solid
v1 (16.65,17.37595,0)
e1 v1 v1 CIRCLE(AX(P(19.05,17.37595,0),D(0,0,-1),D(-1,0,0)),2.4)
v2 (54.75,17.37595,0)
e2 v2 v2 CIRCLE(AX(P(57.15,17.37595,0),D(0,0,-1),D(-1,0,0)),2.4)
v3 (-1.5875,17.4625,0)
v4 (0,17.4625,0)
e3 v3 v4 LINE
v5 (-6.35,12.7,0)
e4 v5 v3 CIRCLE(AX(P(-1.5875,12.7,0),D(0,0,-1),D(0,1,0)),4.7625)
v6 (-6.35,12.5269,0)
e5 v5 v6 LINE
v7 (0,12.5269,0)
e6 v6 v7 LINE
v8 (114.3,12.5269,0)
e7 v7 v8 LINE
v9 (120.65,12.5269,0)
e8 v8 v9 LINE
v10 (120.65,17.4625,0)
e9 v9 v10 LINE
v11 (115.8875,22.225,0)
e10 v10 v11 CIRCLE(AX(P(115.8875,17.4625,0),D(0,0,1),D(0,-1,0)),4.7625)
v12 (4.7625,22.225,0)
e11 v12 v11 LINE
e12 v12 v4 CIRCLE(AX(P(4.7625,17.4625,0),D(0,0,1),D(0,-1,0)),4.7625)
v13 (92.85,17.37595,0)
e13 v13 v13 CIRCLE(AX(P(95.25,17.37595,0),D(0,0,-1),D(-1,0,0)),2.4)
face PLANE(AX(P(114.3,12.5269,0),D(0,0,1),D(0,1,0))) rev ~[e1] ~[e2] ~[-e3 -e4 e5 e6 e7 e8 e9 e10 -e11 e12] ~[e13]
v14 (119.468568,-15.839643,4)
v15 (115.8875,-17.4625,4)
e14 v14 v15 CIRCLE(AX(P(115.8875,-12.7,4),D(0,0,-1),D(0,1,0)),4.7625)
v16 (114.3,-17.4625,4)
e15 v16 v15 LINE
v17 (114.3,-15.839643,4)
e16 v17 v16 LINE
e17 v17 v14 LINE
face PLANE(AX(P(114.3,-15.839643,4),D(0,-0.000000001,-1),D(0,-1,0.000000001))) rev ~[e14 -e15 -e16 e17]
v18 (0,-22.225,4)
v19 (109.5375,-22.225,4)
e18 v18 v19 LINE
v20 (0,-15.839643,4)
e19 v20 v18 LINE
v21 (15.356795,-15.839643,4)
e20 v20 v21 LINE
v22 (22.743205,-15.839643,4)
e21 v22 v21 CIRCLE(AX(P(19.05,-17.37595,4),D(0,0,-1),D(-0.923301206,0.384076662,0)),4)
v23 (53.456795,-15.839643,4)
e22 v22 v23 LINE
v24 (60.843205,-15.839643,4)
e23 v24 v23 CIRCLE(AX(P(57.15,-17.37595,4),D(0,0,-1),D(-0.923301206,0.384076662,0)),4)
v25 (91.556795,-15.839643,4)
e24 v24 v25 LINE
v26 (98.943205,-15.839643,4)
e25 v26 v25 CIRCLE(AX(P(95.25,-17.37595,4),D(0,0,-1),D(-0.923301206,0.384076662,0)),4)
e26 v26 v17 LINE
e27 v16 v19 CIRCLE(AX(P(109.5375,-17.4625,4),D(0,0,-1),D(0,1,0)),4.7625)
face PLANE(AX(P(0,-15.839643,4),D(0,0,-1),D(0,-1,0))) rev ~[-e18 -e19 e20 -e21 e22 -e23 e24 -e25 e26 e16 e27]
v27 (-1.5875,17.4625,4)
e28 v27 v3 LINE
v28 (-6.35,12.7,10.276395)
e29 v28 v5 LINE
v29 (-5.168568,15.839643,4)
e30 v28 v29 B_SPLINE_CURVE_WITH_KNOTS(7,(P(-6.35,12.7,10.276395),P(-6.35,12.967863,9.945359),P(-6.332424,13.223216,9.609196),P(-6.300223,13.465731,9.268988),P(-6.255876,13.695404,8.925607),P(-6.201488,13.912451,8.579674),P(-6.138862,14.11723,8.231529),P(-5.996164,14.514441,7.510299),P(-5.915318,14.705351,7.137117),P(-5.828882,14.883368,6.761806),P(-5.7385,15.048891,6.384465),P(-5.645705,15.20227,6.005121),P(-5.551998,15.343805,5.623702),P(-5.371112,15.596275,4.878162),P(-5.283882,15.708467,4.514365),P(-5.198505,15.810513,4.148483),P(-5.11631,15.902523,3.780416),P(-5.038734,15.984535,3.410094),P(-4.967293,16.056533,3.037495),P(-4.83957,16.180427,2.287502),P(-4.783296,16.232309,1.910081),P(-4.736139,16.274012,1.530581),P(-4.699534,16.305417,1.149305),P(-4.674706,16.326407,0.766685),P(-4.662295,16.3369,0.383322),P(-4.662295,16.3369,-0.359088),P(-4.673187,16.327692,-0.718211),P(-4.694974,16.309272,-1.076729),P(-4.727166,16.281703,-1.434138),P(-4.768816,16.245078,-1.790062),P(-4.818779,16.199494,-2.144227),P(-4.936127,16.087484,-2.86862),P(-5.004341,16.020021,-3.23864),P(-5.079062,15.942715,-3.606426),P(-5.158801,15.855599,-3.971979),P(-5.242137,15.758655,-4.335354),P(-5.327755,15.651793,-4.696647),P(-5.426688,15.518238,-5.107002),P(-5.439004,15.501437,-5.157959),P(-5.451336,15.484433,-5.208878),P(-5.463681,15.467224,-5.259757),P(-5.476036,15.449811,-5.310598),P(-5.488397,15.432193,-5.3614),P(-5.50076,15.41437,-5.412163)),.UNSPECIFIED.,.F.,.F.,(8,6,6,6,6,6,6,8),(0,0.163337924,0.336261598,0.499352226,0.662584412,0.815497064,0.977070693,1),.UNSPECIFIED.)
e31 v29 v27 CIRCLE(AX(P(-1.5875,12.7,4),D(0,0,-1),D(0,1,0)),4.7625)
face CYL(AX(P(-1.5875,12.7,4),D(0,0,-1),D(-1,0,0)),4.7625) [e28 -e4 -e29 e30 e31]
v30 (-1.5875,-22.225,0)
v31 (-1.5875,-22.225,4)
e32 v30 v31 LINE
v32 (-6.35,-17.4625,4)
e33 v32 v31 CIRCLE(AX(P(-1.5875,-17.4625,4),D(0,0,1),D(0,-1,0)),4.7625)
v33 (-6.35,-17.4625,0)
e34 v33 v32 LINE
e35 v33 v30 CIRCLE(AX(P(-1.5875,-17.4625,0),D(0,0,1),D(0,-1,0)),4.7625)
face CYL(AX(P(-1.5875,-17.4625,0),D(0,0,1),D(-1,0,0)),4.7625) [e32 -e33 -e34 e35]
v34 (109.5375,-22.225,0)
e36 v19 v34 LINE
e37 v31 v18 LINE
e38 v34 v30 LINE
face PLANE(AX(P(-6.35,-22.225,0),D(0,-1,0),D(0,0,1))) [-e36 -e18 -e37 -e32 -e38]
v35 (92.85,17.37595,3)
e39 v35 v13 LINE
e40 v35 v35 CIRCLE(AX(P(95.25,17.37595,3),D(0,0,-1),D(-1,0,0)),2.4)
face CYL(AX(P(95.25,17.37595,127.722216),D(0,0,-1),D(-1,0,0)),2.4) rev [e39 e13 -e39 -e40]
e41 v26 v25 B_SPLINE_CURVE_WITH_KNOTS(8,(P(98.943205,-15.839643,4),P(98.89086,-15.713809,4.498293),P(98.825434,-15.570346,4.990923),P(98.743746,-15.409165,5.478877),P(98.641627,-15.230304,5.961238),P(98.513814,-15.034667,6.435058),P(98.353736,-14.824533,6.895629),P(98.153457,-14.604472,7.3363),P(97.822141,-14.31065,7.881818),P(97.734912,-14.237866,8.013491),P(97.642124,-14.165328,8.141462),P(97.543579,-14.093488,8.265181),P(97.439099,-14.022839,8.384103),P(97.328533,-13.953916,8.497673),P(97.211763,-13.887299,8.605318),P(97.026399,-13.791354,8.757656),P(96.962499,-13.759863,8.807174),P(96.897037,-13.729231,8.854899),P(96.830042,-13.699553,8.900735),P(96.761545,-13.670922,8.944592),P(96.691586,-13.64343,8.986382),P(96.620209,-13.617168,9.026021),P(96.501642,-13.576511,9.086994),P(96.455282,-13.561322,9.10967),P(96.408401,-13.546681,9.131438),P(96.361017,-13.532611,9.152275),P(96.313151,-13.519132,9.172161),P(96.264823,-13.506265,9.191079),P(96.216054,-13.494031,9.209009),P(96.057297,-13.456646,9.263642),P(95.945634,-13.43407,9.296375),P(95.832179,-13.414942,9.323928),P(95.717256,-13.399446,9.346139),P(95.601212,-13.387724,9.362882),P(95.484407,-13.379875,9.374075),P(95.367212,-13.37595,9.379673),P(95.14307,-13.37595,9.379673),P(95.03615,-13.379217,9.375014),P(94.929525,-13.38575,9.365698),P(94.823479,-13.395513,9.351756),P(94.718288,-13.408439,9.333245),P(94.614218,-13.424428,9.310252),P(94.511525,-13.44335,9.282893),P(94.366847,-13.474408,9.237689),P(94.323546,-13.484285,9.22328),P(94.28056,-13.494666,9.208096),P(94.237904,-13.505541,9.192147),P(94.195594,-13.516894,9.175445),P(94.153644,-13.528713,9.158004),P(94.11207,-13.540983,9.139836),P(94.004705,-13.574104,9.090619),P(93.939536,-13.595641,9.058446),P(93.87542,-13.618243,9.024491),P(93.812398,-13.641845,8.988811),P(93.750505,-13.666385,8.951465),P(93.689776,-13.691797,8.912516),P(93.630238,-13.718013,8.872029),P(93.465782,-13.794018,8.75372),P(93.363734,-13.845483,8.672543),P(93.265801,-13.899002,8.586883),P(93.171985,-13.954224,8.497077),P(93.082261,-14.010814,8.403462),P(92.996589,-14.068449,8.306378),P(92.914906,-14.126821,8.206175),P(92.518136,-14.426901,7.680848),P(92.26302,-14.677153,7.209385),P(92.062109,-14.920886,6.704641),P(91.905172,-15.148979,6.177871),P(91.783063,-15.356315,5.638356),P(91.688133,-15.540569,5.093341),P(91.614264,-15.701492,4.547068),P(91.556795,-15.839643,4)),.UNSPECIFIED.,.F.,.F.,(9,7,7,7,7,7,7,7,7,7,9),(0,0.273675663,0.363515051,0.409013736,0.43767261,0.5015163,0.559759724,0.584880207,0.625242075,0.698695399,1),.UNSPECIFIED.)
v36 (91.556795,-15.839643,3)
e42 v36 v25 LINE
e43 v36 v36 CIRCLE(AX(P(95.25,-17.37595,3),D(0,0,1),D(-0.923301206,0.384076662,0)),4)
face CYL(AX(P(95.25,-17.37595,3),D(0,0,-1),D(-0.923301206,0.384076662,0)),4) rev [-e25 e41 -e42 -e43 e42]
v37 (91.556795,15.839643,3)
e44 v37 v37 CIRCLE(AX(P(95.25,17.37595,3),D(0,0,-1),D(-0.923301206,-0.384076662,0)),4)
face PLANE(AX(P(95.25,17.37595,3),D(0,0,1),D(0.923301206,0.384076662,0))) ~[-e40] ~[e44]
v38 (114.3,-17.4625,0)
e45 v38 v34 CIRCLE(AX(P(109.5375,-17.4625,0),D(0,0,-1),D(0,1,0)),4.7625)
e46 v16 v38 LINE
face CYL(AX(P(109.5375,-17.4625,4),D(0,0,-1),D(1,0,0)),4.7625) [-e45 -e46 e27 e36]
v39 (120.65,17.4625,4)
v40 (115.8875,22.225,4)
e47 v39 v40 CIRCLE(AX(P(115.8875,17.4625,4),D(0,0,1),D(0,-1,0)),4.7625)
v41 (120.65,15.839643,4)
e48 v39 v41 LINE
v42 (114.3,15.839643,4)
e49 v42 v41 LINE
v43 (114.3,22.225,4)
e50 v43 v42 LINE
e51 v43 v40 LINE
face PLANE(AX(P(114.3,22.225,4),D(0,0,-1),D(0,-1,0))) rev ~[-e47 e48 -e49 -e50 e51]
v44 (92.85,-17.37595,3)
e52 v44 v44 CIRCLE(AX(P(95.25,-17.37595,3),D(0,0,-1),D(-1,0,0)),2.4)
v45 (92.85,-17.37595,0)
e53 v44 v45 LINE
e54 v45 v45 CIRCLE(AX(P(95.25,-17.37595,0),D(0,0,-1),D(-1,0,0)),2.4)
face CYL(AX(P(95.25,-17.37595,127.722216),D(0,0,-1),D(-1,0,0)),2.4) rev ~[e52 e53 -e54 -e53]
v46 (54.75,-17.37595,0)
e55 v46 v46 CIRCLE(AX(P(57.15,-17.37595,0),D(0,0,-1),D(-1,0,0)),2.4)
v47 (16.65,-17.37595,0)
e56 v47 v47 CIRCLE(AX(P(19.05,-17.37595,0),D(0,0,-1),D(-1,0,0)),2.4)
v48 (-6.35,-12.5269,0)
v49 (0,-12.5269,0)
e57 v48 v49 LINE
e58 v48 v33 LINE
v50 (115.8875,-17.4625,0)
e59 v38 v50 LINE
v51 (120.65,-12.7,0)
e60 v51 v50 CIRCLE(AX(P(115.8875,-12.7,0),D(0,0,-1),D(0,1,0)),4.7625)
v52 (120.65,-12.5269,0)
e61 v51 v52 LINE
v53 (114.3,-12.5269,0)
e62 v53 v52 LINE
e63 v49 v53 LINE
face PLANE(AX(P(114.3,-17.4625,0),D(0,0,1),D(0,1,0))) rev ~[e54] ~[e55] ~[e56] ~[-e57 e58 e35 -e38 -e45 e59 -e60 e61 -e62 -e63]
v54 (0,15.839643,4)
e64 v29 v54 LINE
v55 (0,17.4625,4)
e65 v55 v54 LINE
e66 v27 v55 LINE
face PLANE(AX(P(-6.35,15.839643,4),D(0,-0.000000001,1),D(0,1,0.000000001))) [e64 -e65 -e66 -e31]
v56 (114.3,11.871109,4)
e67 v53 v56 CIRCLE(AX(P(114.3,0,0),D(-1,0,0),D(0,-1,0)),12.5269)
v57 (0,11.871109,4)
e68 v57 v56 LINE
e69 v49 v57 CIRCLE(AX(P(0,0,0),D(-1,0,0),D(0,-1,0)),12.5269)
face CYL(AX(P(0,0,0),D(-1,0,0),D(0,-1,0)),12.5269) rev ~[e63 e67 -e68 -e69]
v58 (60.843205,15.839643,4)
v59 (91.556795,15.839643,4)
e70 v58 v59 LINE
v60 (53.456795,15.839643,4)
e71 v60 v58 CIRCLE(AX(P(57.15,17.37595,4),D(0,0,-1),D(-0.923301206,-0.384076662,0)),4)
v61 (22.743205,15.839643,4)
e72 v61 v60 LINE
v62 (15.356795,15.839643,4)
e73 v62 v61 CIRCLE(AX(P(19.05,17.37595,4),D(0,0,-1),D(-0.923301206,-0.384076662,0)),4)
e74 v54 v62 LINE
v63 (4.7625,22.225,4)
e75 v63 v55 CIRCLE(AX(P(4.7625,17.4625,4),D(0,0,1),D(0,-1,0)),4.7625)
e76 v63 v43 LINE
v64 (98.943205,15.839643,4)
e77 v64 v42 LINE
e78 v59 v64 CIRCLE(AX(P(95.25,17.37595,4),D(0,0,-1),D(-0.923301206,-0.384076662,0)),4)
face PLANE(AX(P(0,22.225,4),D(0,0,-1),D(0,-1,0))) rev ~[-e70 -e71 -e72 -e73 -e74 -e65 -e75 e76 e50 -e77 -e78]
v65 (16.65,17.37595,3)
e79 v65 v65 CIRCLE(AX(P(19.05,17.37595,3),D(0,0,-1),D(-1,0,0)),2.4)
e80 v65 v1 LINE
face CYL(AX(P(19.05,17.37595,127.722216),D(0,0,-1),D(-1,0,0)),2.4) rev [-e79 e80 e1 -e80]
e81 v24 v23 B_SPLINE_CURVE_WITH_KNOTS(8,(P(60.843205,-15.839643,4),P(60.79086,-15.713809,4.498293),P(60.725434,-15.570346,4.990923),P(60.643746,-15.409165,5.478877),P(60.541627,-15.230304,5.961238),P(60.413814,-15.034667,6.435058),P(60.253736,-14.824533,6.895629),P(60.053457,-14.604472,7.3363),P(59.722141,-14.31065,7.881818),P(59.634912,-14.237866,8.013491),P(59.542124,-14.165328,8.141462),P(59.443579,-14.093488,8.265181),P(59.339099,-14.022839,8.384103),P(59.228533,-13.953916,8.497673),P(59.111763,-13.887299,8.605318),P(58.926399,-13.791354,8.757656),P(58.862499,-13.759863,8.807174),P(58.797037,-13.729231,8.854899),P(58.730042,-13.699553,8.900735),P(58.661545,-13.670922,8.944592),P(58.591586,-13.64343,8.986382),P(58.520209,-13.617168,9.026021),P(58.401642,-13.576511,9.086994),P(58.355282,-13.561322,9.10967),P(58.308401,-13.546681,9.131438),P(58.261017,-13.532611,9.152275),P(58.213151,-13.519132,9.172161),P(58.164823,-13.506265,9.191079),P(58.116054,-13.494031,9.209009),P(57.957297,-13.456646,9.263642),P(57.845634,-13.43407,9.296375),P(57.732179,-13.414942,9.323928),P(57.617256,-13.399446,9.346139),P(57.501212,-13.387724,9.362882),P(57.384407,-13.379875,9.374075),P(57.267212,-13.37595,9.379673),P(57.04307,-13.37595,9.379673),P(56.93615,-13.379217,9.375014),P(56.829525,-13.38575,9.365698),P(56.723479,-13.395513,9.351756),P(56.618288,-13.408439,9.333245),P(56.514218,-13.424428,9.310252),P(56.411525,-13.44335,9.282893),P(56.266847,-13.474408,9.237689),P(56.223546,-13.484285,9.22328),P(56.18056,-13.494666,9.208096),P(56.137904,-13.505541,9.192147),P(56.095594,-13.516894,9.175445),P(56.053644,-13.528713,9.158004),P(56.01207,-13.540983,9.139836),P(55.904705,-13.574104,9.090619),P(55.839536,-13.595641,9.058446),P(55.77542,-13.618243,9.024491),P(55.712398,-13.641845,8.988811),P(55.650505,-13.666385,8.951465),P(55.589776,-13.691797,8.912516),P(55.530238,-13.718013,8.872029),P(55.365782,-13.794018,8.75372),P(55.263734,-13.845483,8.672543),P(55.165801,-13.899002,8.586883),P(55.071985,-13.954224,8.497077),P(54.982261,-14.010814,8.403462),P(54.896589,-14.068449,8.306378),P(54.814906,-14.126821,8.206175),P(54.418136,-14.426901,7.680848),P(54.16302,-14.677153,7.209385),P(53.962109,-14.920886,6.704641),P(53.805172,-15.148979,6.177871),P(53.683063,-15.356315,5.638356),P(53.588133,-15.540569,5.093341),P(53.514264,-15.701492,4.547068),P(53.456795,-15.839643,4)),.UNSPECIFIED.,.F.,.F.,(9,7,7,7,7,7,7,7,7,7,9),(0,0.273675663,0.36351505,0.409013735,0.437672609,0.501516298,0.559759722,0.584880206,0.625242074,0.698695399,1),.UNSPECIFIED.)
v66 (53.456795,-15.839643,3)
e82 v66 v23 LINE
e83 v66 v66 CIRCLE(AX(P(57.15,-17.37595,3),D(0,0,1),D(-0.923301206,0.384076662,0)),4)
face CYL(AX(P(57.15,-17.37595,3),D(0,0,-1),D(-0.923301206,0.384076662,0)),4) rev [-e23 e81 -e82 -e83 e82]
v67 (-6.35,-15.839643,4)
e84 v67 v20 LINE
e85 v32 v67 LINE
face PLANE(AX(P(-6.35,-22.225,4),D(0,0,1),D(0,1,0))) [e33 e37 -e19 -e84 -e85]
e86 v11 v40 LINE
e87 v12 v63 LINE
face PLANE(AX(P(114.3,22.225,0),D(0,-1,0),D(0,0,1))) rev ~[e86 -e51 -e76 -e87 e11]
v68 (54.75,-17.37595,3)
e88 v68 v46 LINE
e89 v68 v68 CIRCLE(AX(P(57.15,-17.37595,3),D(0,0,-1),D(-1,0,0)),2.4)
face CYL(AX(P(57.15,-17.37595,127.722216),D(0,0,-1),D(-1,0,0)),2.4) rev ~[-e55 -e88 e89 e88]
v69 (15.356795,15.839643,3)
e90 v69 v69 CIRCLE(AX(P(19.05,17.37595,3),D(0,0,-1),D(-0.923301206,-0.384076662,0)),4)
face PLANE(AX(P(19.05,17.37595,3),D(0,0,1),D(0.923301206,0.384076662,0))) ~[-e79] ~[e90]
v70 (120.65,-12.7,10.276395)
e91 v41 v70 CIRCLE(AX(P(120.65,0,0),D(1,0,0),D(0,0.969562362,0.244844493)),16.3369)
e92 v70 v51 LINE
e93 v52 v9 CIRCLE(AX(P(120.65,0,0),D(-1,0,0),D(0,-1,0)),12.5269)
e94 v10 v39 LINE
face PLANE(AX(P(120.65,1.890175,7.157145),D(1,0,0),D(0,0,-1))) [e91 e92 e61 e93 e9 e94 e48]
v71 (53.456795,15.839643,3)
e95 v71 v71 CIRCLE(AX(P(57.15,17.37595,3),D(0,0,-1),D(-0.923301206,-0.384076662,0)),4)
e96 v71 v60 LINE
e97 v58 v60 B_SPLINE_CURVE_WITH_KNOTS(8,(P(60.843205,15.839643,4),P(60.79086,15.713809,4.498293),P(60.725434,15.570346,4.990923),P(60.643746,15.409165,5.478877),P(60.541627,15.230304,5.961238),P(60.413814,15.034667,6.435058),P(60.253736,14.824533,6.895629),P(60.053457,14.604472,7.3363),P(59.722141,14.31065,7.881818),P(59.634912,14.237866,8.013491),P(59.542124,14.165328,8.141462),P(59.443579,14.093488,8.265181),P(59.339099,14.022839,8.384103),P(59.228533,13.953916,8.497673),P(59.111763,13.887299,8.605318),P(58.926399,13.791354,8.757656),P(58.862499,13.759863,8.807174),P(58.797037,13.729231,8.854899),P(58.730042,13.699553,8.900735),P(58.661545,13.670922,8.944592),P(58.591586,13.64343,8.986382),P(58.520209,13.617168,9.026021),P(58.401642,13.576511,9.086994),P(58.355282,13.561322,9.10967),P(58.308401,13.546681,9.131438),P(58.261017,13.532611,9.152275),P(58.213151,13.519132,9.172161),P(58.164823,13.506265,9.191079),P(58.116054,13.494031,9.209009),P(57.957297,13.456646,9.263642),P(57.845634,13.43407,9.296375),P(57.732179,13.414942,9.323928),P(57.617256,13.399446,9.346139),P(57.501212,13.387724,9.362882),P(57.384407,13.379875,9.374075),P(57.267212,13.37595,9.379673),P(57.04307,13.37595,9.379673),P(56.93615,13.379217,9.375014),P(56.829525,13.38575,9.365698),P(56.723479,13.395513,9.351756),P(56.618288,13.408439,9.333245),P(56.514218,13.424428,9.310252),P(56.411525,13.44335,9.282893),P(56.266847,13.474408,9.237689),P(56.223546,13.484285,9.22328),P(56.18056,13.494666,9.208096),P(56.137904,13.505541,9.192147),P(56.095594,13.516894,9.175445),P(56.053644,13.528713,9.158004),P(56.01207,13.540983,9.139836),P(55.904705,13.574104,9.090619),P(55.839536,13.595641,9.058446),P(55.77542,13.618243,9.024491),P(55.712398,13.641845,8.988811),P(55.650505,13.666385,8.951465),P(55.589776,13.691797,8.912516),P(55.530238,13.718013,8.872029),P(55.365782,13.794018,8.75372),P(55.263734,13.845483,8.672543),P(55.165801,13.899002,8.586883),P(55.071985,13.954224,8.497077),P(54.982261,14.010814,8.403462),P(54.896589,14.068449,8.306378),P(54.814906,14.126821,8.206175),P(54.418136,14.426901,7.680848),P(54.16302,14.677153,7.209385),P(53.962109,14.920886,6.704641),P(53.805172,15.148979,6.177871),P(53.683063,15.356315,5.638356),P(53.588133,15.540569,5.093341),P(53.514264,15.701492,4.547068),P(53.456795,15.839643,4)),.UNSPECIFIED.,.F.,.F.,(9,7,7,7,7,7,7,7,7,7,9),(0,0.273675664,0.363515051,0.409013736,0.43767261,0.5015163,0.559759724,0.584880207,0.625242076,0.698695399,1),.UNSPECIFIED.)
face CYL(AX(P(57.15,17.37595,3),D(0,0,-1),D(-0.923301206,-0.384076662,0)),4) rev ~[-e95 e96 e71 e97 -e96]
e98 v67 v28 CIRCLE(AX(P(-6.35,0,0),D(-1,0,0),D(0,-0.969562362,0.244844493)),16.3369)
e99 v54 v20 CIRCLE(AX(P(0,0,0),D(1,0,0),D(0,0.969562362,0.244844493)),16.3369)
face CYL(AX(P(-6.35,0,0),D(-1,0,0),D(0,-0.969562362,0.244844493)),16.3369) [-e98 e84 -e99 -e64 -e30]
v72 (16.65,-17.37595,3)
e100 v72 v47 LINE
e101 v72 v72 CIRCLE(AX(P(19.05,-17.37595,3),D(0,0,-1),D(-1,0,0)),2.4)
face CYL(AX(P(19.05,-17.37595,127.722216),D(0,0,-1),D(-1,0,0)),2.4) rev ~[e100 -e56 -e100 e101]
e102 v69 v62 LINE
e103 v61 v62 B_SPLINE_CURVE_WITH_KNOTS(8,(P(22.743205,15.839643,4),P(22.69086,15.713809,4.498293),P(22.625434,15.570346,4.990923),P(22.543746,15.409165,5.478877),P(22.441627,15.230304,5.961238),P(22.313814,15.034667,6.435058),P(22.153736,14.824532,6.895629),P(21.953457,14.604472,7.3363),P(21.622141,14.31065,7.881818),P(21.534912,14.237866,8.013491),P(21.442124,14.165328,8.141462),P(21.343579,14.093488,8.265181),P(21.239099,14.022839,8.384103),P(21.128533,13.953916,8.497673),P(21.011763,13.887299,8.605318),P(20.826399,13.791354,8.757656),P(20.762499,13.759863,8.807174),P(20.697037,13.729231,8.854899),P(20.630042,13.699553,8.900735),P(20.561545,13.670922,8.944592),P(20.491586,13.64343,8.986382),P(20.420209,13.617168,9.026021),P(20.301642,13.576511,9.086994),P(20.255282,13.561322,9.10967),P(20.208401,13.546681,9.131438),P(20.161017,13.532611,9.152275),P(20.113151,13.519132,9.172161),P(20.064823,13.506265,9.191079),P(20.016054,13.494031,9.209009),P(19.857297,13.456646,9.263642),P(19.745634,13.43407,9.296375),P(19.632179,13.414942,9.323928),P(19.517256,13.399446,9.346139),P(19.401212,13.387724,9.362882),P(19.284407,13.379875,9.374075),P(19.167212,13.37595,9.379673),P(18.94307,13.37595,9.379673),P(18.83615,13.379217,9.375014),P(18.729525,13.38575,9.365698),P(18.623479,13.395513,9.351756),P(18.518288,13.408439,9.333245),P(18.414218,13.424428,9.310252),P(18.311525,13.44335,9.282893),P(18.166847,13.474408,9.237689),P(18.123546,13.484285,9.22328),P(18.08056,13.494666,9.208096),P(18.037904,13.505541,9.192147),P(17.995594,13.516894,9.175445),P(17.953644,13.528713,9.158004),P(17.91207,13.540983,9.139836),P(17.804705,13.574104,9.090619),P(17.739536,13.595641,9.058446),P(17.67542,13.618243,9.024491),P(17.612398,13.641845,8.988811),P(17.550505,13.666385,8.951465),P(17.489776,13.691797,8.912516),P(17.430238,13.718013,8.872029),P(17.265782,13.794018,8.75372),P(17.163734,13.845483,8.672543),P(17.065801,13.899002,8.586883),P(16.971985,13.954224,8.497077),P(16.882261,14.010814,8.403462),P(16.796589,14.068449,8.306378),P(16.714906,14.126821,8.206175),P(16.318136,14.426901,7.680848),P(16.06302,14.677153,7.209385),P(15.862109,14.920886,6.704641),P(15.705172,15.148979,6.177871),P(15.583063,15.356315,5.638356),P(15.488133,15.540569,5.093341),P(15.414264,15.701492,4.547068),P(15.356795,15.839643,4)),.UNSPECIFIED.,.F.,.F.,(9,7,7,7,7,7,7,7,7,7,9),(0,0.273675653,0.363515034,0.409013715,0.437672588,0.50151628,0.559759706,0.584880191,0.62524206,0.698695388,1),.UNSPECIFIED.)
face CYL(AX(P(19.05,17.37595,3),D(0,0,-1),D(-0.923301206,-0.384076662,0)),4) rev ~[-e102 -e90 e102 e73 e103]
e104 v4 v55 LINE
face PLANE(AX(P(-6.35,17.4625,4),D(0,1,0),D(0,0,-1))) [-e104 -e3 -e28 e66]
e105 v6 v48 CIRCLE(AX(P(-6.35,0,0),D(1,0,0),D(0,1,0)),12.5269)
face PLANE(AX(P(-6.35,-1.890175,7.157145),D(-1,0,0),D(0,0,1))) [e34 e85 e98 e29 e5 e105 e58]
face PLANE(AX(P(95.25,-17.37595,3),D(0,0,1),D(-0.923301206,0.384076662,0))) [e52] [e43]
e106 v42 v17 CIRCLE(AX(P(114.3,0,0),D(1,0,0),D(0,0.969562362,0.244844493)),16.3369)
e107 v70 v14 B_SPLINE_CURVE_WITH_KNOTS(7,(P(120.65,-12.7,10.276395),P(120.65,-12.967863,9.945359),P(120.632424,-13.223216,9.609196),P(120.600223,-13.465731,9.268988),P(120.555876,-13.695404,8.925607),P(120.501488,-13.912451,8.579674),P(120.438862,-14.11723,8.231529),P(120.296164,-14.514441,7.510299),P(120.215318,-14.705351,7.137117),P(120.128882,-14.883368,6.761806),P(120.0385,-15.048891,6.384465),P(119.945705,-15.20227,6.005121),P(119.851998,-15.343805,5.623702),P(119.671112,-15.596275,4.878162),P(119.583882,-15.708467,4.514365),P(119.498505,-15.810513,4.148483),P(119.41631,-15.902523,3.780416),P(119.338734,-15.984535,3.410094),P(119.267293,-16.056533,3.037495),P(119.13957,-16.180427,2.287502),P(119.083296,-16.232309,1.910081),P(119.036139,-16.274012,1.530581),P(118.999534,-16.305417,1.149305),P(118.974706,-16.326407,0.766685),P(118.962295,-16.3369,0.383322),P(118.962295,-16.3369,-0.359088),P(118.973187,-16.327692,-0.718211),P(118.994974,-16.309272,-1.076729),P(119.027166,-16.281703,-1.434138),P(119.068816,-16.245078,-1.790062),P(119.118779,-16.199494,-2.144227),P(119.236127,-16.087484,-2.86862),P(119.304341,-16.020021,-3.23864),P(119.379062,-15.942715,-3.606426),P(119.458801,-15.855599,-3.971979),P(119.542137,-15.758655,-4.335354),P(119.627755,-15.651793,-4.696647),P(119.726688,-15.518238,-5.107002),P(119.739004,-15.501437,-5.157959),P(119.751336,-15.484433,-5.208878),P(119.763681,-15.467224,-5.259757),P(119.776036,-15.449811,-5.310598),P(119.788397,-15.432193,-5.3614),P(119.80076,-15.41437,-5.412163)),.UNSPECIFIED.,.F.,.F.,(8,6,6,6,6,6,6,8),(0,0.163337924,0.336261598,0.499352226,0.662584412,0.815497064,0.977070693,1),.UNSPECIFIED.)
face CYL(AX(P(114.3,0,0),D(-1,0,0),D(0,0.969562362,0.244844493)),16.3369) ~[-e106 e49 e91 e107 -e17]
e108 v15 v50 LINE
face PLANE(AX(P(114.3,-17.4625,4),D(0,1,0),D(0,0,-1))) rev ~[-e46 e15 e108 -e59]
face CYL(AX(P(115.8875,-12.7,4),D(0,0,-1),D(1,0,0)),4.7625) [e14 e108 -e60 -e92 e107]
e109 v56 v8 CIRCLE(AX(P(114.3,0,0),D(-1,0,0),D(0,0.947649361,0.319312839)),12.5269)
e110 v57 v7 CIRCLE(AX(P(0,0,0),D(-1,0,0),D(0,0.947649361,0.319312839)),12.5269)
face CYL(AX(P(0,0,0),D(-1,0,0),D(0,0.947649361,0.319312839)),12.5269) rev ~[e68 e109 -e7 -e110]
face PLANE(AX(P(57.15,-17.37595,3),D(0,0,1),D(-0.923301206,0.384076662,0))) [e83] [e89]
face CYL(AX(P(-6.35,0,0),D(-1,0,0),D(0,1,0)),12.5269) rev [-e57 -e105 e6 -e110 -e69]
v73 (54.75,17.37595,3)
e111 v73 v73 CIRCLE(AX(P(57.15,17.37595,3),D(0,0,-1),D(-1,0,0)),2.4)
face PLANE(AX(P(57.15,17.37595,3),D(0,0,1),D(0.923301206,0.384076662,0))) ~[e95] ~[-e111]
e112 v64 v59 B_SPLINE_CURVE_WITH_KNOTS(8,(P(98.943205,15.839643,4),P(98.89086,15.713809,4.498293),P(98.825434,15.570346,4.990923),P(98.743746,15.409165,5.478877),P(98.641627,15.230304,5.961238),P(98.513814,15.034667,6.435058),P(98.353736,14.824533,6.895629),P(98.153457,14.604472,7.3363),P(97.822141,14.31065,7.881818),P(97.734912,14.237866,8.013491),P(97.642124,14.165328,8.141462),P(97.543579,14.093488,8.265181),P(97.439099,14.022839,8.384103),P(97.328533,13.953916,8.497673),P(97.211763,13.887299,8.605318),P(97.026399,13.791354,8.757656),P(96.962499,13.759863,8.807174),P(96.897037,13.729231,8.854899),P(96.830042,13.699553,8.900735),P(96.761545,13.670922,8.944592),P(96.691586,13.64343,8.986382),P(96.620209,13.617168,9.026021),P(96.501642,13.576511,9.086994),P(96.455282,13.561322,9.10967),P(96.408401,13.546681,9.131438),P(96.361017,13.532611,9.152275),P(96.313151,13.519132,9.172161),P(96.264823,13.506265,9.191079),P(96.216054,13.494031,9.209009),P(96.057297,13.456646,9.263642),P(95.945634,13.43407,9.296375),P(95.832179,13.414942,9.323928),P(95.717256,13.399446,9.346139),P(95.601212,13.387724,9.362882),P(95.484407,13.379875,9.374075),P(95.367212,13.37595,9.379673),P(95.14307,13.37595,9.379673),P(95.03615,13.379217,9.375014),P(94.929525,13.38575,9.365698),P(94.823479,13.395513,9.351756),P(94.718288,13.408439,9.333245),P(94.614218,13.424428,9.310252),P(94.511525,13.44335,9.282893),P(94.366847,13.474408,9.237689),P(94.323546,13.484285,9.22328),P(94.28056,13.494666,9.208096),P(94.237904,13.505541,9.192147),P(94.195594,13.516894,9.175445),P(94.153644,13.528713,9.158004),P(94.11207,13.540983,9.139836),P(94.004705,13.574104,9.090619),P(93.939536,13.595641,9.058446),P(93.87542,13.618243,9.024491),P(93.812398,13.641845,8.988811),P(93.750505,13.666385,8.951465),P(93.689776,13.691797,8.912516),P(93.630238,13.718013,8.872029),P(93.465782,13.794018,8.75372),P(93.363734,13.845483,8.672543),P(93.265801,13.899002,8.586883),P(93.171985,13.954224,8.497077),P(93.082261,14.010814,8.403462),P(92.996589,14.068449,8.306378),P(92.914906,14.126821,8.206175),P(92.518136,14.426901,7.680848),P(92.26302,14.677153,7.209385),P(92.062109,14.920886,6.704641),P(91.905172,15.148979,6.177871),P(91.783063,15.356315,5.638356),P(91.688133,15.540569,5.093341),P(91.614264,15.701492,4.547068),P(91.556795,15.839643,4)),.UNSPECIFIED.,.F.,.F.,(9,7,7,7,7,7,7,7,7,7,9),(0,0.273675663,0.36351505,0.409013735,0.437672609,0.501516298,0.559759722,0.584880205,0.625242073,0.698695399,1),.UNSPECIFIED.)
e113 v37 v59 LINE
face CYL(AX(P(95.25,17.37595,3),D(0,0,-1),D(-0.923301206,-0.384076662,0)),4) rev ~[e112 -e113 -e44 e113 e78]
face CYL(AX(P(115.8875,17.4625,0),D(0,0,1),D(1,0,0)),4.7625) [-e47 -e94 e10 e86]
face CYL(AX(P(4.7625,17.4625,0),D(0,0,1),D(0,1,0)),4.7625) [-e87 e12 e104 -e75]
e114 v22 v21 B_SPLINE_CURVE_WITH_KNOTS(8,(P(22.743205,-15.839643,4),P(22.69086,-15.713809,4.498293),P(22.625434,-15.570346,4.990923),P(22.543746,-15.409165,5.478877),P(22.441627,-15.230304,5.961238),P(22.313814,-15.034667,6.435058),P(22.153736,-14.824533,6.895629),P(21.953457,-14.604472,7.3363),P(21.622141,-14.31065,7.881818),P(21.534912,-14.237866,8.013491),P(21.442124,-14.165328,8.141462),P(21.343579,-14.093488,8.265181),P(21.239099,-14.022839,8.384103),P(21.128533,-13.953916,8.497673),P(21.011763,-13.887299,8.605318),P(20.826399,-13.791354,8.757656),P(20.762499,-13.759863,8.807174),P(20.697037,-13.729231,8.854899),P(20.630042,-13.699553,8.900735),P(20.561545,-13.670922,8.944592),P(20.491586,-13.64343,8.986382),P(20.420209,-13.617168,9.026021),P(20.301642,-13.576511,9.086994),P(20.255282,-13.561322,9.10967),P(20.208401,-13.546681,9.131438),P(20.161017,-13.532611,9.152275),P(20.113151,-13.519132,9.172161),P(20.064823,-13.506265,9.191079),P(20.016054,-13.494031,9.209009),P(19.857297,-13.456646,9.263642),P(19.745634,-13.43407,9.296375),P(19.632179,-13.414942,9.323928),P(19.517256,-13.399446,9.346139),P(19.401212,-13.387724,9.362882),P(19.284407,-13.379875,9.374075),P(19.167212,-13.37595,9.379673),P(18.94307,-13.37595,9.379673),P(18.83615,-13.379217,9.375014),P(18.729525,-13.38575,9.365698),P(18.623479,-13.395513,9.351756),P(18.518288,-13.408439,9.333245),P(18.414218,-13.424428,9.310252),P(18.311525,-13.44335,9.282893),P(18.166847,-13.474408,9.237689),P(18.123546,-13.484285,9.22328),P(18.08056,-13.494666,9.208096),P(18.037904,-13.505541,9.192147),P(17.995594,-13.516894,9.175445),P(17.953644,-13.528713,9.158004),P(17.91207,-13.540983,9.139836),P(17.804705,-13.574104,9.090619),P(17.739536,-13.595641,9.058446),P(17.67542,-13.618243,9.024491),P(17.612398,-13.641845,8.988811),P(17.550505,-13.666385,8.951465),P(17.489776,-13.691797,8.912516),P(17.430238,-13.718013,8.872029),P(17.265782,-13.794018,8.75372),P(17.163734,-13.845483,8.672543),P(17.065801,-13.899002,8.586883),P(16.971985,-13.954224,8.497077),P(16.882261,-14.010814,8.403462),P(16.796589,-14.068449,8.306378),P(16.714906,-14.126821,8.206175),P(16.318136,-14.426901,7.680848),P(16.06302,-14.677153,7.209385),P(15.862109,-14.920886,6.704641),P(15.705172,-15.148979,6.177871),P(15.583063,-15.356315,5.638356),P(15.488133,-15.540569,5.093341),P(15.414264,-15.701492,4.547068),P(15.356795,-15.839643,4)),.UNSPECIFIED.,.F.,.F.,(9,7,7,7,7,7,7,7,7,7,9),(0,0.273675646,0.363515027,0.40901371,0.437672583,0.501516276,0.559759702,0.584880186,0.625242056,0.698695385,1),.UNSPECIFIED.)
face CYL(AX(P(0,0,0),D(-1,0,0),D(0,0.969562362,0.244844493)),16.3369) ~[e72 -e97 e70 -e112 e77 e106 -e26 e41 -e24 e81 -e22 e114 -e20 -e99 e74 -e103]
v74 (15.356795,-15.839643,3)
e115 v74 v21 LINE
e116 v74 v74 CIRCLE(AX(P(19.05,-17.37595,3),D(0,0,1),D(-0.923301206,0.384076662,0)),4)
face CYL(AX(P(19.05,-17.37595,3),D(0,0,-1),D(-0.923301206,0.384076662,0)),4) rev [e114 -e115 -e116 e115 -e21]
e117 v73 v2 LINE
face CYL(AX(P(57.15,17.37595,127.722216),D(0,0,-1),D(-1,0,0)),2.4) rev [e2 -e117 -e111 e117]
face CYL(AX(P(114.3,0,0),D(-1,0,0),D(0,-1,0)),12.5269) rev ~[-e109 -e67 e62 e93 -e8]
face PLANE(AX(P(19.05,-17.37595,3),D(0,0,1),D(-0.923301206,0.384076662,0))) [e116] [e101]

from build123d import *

# Parameters (mm, degrees)
BOSS_EXTRUDE1_DEPTH  = 114.3
CUT_EXTRUDE1_START   = -1
SKETCH2_R            = 4
CUT_EXTRUDE1_DEPTH   = 7.35
M4_CLEARANCE_HOLE1_D = 4.8
FILLET1_R            = 4.7625
BOSS_EXTRUDE2_START  = 6.35
BOSS_EXTRUDE2_DEPTH  = 6.35
BOSS_EXTRUDE3_DEPTH  = 6.35
FILLET2_R            = 4.7625


with BuildPart() as part:
    # Sketch1 → Boss-Extrude1 (new body)
    with BuildSketch(Plane(origin=(0, 0, 0), x_dir=(0, 0, -1), z_dir=(1, 0, 0))):
        with BuildLine():
            Line((0, 22.225), (-4, 22.225))
            Line((-4, 22.225), (-4, 15.839643355))
            ThreePointArc((-3.999999999, 15.839643349), (-2.01539476, 16.212109221), (0, 16.336899995))
            Line((0, 16.336899995), (0, 17.4625))
            Line((0, 17.4625), (0, 22.225))
        make_face()
        with BuildLine():
            ThreePointArc((0, 16.336899995), (-2.01539476, 16.212109221), (-3.999999999, 15.839643349))
            ThreePointArc((-3.999999999, 15.839643349), (-16.336899991, 0), (-3.999999999, -15.839643349))
            ThreePointArc((-3.999999999, -15.839643349), (-2.01539476, -16.212109221), (0, -16.336899995))
            Line((0, -16.336899995), (0, -12.5269))
            ThreePointArc((0, -12.5269), (-12.361865073, -2.026700652), (-4, 11.871108778))
            ThreePointArc((-4, 11.871108778), (-2.026700652, 12.361865073), (0, 12.5269))
            Line((0, 12.5269), (0, 16.336899995))
        make_face()
        with BuildLine():
            ThreePointArc((0, -16.336899995), (-2.01539476, -16.212109221), (-3.999999999, -15.839643349))
            Line((-4, -15.839643355), (-4, -22.225))
            Line((-4, -22.225), (0, -22.225))
            Line((0, -22.225), (0, -17.4625))
            Line((0, -17.4625), (0, -16.336899995))
        make_face()
    extrude(amount=BOSS_EXTRUDE1_DEPTH)

    # Sketch2 → Cut-Extrude1 (cut)
    with BuildSketch(Plane.XY.offset(4).offset(CUT_EXTRUDE1_START)):
        with Locations(Location((19.05, -17.37595, 0), (0, 0, 157.413569734))):
            Circle(SKETCH2_R)
        with Locations(Location((57.15, -17.37595, 0), (0, 0, 157.413569734))):
            Circle(SKETCH2_R)
        with Locations(Location((95.25, -17.37595, 0), (0, 0, 157.413569734))):
            Circle(SKETCH2_R)
    cut_extrude1 = extrude(amount=CUT_EXTRUDE1_DEPTH, mode=Mode.SUBTRACT)

    # M4 Clearance Hole1 (through all)
    with Locations(Plane.XY.offset(4)):
        with Locations((19.05, -17.37595), (57.15, -17.37595), (95.25, -17.37595)):
            m4_clearance_hole1 = Hole(M4_CLEARANCE_HOLE1_D / 2)

    # Mirror1: Cut-Extrude1, M4 Clearance Hole1 across plane
    add(cut_extrude1.mirror(Plane.ZX), mode=Mode.SUBTRACT)
    add(m4_clearance_hole1.mirror(Plane.ZX), mode=Mode.SUBTRACT)

    # Fillet1
    fillet1_edges = [part.edges().sort_by_distance(p)[0] for p in [
        (0, 22.225, 2),
        (114.3, -22.225, 2),
    ]]
    fillet(fillet1_edges, radius=FILLET1_R)

    # Sketch8 → Boss-Extrude2 (add)
    with BuildSketch(Plane.ZY.offset(BOSS_EXTRUDE2_START)):
        with BuildLine():
            Line((3.999999999, 15.839643352), (4, 17.4625))
            Line((4, 17.4625), (0, 17.4625))
            Line((0, 17.4625), (0, 12.5269))
            ThreePointArc((0, 12.5269), (12.5269, 0), (0, -12.5269))
            Line((0, -12.5269), (0, -22.225))
            Line((0, -22.225), (4, -22.225))
            Line((4, -22.225), (3.999999999, -15.839643352))
            ThreePointArc((3.999999999, -15.839643352), (16.336899994, 0), (3.999999999, 15.839643352))
        make_face()
    extrude(amount=-BOSS_EXTRUDE2_DEPTH)

    # Sketch9 → Boss-Extrude3 (add)
    with BuildSketch(Plane(origin=(114.3, 0, 0), x_dir=(0, 0, -1), z_dir=(1, 0, 0))):
        with BuildLine():
            Line((-3.999999999, -15.839643352), (-4, -17.4625))
            Line((-4, -17.4625), (0, -17.4625))
            Line((0, -17.4625), (0, -12.5269))
            ThreePointArc((0, -12.5269), (-12.5269, 0), (0, 12.5269))
            Line((0, 12.5269), (0, 22.225))
            Line((0, 22.225), (-4, 22.225))
            Line((-4, 22.225), (-3.999999999, 15.839643352))
            ThreePointArc((-3.999999999, 15.839643352), (-16.336899994, 0), (-3.999999999, -15.839643352))
        make_face()
    extrude(amount=BOSS_EXTRUDE3_DEPTH)

    # Fillet2
    fillet2_edges = [part.edges().sort_by_distance(p)[0] for p in [
        (-6.35, 17.4625, 2),
        (-6.35, -22.225, 2),
        (120.65, -17.4625, 2),
        (120.65, 22.225, 2),
    ]]
    fillet(fillet2_edges, radius=FILLET2_R)


solid = part.part
